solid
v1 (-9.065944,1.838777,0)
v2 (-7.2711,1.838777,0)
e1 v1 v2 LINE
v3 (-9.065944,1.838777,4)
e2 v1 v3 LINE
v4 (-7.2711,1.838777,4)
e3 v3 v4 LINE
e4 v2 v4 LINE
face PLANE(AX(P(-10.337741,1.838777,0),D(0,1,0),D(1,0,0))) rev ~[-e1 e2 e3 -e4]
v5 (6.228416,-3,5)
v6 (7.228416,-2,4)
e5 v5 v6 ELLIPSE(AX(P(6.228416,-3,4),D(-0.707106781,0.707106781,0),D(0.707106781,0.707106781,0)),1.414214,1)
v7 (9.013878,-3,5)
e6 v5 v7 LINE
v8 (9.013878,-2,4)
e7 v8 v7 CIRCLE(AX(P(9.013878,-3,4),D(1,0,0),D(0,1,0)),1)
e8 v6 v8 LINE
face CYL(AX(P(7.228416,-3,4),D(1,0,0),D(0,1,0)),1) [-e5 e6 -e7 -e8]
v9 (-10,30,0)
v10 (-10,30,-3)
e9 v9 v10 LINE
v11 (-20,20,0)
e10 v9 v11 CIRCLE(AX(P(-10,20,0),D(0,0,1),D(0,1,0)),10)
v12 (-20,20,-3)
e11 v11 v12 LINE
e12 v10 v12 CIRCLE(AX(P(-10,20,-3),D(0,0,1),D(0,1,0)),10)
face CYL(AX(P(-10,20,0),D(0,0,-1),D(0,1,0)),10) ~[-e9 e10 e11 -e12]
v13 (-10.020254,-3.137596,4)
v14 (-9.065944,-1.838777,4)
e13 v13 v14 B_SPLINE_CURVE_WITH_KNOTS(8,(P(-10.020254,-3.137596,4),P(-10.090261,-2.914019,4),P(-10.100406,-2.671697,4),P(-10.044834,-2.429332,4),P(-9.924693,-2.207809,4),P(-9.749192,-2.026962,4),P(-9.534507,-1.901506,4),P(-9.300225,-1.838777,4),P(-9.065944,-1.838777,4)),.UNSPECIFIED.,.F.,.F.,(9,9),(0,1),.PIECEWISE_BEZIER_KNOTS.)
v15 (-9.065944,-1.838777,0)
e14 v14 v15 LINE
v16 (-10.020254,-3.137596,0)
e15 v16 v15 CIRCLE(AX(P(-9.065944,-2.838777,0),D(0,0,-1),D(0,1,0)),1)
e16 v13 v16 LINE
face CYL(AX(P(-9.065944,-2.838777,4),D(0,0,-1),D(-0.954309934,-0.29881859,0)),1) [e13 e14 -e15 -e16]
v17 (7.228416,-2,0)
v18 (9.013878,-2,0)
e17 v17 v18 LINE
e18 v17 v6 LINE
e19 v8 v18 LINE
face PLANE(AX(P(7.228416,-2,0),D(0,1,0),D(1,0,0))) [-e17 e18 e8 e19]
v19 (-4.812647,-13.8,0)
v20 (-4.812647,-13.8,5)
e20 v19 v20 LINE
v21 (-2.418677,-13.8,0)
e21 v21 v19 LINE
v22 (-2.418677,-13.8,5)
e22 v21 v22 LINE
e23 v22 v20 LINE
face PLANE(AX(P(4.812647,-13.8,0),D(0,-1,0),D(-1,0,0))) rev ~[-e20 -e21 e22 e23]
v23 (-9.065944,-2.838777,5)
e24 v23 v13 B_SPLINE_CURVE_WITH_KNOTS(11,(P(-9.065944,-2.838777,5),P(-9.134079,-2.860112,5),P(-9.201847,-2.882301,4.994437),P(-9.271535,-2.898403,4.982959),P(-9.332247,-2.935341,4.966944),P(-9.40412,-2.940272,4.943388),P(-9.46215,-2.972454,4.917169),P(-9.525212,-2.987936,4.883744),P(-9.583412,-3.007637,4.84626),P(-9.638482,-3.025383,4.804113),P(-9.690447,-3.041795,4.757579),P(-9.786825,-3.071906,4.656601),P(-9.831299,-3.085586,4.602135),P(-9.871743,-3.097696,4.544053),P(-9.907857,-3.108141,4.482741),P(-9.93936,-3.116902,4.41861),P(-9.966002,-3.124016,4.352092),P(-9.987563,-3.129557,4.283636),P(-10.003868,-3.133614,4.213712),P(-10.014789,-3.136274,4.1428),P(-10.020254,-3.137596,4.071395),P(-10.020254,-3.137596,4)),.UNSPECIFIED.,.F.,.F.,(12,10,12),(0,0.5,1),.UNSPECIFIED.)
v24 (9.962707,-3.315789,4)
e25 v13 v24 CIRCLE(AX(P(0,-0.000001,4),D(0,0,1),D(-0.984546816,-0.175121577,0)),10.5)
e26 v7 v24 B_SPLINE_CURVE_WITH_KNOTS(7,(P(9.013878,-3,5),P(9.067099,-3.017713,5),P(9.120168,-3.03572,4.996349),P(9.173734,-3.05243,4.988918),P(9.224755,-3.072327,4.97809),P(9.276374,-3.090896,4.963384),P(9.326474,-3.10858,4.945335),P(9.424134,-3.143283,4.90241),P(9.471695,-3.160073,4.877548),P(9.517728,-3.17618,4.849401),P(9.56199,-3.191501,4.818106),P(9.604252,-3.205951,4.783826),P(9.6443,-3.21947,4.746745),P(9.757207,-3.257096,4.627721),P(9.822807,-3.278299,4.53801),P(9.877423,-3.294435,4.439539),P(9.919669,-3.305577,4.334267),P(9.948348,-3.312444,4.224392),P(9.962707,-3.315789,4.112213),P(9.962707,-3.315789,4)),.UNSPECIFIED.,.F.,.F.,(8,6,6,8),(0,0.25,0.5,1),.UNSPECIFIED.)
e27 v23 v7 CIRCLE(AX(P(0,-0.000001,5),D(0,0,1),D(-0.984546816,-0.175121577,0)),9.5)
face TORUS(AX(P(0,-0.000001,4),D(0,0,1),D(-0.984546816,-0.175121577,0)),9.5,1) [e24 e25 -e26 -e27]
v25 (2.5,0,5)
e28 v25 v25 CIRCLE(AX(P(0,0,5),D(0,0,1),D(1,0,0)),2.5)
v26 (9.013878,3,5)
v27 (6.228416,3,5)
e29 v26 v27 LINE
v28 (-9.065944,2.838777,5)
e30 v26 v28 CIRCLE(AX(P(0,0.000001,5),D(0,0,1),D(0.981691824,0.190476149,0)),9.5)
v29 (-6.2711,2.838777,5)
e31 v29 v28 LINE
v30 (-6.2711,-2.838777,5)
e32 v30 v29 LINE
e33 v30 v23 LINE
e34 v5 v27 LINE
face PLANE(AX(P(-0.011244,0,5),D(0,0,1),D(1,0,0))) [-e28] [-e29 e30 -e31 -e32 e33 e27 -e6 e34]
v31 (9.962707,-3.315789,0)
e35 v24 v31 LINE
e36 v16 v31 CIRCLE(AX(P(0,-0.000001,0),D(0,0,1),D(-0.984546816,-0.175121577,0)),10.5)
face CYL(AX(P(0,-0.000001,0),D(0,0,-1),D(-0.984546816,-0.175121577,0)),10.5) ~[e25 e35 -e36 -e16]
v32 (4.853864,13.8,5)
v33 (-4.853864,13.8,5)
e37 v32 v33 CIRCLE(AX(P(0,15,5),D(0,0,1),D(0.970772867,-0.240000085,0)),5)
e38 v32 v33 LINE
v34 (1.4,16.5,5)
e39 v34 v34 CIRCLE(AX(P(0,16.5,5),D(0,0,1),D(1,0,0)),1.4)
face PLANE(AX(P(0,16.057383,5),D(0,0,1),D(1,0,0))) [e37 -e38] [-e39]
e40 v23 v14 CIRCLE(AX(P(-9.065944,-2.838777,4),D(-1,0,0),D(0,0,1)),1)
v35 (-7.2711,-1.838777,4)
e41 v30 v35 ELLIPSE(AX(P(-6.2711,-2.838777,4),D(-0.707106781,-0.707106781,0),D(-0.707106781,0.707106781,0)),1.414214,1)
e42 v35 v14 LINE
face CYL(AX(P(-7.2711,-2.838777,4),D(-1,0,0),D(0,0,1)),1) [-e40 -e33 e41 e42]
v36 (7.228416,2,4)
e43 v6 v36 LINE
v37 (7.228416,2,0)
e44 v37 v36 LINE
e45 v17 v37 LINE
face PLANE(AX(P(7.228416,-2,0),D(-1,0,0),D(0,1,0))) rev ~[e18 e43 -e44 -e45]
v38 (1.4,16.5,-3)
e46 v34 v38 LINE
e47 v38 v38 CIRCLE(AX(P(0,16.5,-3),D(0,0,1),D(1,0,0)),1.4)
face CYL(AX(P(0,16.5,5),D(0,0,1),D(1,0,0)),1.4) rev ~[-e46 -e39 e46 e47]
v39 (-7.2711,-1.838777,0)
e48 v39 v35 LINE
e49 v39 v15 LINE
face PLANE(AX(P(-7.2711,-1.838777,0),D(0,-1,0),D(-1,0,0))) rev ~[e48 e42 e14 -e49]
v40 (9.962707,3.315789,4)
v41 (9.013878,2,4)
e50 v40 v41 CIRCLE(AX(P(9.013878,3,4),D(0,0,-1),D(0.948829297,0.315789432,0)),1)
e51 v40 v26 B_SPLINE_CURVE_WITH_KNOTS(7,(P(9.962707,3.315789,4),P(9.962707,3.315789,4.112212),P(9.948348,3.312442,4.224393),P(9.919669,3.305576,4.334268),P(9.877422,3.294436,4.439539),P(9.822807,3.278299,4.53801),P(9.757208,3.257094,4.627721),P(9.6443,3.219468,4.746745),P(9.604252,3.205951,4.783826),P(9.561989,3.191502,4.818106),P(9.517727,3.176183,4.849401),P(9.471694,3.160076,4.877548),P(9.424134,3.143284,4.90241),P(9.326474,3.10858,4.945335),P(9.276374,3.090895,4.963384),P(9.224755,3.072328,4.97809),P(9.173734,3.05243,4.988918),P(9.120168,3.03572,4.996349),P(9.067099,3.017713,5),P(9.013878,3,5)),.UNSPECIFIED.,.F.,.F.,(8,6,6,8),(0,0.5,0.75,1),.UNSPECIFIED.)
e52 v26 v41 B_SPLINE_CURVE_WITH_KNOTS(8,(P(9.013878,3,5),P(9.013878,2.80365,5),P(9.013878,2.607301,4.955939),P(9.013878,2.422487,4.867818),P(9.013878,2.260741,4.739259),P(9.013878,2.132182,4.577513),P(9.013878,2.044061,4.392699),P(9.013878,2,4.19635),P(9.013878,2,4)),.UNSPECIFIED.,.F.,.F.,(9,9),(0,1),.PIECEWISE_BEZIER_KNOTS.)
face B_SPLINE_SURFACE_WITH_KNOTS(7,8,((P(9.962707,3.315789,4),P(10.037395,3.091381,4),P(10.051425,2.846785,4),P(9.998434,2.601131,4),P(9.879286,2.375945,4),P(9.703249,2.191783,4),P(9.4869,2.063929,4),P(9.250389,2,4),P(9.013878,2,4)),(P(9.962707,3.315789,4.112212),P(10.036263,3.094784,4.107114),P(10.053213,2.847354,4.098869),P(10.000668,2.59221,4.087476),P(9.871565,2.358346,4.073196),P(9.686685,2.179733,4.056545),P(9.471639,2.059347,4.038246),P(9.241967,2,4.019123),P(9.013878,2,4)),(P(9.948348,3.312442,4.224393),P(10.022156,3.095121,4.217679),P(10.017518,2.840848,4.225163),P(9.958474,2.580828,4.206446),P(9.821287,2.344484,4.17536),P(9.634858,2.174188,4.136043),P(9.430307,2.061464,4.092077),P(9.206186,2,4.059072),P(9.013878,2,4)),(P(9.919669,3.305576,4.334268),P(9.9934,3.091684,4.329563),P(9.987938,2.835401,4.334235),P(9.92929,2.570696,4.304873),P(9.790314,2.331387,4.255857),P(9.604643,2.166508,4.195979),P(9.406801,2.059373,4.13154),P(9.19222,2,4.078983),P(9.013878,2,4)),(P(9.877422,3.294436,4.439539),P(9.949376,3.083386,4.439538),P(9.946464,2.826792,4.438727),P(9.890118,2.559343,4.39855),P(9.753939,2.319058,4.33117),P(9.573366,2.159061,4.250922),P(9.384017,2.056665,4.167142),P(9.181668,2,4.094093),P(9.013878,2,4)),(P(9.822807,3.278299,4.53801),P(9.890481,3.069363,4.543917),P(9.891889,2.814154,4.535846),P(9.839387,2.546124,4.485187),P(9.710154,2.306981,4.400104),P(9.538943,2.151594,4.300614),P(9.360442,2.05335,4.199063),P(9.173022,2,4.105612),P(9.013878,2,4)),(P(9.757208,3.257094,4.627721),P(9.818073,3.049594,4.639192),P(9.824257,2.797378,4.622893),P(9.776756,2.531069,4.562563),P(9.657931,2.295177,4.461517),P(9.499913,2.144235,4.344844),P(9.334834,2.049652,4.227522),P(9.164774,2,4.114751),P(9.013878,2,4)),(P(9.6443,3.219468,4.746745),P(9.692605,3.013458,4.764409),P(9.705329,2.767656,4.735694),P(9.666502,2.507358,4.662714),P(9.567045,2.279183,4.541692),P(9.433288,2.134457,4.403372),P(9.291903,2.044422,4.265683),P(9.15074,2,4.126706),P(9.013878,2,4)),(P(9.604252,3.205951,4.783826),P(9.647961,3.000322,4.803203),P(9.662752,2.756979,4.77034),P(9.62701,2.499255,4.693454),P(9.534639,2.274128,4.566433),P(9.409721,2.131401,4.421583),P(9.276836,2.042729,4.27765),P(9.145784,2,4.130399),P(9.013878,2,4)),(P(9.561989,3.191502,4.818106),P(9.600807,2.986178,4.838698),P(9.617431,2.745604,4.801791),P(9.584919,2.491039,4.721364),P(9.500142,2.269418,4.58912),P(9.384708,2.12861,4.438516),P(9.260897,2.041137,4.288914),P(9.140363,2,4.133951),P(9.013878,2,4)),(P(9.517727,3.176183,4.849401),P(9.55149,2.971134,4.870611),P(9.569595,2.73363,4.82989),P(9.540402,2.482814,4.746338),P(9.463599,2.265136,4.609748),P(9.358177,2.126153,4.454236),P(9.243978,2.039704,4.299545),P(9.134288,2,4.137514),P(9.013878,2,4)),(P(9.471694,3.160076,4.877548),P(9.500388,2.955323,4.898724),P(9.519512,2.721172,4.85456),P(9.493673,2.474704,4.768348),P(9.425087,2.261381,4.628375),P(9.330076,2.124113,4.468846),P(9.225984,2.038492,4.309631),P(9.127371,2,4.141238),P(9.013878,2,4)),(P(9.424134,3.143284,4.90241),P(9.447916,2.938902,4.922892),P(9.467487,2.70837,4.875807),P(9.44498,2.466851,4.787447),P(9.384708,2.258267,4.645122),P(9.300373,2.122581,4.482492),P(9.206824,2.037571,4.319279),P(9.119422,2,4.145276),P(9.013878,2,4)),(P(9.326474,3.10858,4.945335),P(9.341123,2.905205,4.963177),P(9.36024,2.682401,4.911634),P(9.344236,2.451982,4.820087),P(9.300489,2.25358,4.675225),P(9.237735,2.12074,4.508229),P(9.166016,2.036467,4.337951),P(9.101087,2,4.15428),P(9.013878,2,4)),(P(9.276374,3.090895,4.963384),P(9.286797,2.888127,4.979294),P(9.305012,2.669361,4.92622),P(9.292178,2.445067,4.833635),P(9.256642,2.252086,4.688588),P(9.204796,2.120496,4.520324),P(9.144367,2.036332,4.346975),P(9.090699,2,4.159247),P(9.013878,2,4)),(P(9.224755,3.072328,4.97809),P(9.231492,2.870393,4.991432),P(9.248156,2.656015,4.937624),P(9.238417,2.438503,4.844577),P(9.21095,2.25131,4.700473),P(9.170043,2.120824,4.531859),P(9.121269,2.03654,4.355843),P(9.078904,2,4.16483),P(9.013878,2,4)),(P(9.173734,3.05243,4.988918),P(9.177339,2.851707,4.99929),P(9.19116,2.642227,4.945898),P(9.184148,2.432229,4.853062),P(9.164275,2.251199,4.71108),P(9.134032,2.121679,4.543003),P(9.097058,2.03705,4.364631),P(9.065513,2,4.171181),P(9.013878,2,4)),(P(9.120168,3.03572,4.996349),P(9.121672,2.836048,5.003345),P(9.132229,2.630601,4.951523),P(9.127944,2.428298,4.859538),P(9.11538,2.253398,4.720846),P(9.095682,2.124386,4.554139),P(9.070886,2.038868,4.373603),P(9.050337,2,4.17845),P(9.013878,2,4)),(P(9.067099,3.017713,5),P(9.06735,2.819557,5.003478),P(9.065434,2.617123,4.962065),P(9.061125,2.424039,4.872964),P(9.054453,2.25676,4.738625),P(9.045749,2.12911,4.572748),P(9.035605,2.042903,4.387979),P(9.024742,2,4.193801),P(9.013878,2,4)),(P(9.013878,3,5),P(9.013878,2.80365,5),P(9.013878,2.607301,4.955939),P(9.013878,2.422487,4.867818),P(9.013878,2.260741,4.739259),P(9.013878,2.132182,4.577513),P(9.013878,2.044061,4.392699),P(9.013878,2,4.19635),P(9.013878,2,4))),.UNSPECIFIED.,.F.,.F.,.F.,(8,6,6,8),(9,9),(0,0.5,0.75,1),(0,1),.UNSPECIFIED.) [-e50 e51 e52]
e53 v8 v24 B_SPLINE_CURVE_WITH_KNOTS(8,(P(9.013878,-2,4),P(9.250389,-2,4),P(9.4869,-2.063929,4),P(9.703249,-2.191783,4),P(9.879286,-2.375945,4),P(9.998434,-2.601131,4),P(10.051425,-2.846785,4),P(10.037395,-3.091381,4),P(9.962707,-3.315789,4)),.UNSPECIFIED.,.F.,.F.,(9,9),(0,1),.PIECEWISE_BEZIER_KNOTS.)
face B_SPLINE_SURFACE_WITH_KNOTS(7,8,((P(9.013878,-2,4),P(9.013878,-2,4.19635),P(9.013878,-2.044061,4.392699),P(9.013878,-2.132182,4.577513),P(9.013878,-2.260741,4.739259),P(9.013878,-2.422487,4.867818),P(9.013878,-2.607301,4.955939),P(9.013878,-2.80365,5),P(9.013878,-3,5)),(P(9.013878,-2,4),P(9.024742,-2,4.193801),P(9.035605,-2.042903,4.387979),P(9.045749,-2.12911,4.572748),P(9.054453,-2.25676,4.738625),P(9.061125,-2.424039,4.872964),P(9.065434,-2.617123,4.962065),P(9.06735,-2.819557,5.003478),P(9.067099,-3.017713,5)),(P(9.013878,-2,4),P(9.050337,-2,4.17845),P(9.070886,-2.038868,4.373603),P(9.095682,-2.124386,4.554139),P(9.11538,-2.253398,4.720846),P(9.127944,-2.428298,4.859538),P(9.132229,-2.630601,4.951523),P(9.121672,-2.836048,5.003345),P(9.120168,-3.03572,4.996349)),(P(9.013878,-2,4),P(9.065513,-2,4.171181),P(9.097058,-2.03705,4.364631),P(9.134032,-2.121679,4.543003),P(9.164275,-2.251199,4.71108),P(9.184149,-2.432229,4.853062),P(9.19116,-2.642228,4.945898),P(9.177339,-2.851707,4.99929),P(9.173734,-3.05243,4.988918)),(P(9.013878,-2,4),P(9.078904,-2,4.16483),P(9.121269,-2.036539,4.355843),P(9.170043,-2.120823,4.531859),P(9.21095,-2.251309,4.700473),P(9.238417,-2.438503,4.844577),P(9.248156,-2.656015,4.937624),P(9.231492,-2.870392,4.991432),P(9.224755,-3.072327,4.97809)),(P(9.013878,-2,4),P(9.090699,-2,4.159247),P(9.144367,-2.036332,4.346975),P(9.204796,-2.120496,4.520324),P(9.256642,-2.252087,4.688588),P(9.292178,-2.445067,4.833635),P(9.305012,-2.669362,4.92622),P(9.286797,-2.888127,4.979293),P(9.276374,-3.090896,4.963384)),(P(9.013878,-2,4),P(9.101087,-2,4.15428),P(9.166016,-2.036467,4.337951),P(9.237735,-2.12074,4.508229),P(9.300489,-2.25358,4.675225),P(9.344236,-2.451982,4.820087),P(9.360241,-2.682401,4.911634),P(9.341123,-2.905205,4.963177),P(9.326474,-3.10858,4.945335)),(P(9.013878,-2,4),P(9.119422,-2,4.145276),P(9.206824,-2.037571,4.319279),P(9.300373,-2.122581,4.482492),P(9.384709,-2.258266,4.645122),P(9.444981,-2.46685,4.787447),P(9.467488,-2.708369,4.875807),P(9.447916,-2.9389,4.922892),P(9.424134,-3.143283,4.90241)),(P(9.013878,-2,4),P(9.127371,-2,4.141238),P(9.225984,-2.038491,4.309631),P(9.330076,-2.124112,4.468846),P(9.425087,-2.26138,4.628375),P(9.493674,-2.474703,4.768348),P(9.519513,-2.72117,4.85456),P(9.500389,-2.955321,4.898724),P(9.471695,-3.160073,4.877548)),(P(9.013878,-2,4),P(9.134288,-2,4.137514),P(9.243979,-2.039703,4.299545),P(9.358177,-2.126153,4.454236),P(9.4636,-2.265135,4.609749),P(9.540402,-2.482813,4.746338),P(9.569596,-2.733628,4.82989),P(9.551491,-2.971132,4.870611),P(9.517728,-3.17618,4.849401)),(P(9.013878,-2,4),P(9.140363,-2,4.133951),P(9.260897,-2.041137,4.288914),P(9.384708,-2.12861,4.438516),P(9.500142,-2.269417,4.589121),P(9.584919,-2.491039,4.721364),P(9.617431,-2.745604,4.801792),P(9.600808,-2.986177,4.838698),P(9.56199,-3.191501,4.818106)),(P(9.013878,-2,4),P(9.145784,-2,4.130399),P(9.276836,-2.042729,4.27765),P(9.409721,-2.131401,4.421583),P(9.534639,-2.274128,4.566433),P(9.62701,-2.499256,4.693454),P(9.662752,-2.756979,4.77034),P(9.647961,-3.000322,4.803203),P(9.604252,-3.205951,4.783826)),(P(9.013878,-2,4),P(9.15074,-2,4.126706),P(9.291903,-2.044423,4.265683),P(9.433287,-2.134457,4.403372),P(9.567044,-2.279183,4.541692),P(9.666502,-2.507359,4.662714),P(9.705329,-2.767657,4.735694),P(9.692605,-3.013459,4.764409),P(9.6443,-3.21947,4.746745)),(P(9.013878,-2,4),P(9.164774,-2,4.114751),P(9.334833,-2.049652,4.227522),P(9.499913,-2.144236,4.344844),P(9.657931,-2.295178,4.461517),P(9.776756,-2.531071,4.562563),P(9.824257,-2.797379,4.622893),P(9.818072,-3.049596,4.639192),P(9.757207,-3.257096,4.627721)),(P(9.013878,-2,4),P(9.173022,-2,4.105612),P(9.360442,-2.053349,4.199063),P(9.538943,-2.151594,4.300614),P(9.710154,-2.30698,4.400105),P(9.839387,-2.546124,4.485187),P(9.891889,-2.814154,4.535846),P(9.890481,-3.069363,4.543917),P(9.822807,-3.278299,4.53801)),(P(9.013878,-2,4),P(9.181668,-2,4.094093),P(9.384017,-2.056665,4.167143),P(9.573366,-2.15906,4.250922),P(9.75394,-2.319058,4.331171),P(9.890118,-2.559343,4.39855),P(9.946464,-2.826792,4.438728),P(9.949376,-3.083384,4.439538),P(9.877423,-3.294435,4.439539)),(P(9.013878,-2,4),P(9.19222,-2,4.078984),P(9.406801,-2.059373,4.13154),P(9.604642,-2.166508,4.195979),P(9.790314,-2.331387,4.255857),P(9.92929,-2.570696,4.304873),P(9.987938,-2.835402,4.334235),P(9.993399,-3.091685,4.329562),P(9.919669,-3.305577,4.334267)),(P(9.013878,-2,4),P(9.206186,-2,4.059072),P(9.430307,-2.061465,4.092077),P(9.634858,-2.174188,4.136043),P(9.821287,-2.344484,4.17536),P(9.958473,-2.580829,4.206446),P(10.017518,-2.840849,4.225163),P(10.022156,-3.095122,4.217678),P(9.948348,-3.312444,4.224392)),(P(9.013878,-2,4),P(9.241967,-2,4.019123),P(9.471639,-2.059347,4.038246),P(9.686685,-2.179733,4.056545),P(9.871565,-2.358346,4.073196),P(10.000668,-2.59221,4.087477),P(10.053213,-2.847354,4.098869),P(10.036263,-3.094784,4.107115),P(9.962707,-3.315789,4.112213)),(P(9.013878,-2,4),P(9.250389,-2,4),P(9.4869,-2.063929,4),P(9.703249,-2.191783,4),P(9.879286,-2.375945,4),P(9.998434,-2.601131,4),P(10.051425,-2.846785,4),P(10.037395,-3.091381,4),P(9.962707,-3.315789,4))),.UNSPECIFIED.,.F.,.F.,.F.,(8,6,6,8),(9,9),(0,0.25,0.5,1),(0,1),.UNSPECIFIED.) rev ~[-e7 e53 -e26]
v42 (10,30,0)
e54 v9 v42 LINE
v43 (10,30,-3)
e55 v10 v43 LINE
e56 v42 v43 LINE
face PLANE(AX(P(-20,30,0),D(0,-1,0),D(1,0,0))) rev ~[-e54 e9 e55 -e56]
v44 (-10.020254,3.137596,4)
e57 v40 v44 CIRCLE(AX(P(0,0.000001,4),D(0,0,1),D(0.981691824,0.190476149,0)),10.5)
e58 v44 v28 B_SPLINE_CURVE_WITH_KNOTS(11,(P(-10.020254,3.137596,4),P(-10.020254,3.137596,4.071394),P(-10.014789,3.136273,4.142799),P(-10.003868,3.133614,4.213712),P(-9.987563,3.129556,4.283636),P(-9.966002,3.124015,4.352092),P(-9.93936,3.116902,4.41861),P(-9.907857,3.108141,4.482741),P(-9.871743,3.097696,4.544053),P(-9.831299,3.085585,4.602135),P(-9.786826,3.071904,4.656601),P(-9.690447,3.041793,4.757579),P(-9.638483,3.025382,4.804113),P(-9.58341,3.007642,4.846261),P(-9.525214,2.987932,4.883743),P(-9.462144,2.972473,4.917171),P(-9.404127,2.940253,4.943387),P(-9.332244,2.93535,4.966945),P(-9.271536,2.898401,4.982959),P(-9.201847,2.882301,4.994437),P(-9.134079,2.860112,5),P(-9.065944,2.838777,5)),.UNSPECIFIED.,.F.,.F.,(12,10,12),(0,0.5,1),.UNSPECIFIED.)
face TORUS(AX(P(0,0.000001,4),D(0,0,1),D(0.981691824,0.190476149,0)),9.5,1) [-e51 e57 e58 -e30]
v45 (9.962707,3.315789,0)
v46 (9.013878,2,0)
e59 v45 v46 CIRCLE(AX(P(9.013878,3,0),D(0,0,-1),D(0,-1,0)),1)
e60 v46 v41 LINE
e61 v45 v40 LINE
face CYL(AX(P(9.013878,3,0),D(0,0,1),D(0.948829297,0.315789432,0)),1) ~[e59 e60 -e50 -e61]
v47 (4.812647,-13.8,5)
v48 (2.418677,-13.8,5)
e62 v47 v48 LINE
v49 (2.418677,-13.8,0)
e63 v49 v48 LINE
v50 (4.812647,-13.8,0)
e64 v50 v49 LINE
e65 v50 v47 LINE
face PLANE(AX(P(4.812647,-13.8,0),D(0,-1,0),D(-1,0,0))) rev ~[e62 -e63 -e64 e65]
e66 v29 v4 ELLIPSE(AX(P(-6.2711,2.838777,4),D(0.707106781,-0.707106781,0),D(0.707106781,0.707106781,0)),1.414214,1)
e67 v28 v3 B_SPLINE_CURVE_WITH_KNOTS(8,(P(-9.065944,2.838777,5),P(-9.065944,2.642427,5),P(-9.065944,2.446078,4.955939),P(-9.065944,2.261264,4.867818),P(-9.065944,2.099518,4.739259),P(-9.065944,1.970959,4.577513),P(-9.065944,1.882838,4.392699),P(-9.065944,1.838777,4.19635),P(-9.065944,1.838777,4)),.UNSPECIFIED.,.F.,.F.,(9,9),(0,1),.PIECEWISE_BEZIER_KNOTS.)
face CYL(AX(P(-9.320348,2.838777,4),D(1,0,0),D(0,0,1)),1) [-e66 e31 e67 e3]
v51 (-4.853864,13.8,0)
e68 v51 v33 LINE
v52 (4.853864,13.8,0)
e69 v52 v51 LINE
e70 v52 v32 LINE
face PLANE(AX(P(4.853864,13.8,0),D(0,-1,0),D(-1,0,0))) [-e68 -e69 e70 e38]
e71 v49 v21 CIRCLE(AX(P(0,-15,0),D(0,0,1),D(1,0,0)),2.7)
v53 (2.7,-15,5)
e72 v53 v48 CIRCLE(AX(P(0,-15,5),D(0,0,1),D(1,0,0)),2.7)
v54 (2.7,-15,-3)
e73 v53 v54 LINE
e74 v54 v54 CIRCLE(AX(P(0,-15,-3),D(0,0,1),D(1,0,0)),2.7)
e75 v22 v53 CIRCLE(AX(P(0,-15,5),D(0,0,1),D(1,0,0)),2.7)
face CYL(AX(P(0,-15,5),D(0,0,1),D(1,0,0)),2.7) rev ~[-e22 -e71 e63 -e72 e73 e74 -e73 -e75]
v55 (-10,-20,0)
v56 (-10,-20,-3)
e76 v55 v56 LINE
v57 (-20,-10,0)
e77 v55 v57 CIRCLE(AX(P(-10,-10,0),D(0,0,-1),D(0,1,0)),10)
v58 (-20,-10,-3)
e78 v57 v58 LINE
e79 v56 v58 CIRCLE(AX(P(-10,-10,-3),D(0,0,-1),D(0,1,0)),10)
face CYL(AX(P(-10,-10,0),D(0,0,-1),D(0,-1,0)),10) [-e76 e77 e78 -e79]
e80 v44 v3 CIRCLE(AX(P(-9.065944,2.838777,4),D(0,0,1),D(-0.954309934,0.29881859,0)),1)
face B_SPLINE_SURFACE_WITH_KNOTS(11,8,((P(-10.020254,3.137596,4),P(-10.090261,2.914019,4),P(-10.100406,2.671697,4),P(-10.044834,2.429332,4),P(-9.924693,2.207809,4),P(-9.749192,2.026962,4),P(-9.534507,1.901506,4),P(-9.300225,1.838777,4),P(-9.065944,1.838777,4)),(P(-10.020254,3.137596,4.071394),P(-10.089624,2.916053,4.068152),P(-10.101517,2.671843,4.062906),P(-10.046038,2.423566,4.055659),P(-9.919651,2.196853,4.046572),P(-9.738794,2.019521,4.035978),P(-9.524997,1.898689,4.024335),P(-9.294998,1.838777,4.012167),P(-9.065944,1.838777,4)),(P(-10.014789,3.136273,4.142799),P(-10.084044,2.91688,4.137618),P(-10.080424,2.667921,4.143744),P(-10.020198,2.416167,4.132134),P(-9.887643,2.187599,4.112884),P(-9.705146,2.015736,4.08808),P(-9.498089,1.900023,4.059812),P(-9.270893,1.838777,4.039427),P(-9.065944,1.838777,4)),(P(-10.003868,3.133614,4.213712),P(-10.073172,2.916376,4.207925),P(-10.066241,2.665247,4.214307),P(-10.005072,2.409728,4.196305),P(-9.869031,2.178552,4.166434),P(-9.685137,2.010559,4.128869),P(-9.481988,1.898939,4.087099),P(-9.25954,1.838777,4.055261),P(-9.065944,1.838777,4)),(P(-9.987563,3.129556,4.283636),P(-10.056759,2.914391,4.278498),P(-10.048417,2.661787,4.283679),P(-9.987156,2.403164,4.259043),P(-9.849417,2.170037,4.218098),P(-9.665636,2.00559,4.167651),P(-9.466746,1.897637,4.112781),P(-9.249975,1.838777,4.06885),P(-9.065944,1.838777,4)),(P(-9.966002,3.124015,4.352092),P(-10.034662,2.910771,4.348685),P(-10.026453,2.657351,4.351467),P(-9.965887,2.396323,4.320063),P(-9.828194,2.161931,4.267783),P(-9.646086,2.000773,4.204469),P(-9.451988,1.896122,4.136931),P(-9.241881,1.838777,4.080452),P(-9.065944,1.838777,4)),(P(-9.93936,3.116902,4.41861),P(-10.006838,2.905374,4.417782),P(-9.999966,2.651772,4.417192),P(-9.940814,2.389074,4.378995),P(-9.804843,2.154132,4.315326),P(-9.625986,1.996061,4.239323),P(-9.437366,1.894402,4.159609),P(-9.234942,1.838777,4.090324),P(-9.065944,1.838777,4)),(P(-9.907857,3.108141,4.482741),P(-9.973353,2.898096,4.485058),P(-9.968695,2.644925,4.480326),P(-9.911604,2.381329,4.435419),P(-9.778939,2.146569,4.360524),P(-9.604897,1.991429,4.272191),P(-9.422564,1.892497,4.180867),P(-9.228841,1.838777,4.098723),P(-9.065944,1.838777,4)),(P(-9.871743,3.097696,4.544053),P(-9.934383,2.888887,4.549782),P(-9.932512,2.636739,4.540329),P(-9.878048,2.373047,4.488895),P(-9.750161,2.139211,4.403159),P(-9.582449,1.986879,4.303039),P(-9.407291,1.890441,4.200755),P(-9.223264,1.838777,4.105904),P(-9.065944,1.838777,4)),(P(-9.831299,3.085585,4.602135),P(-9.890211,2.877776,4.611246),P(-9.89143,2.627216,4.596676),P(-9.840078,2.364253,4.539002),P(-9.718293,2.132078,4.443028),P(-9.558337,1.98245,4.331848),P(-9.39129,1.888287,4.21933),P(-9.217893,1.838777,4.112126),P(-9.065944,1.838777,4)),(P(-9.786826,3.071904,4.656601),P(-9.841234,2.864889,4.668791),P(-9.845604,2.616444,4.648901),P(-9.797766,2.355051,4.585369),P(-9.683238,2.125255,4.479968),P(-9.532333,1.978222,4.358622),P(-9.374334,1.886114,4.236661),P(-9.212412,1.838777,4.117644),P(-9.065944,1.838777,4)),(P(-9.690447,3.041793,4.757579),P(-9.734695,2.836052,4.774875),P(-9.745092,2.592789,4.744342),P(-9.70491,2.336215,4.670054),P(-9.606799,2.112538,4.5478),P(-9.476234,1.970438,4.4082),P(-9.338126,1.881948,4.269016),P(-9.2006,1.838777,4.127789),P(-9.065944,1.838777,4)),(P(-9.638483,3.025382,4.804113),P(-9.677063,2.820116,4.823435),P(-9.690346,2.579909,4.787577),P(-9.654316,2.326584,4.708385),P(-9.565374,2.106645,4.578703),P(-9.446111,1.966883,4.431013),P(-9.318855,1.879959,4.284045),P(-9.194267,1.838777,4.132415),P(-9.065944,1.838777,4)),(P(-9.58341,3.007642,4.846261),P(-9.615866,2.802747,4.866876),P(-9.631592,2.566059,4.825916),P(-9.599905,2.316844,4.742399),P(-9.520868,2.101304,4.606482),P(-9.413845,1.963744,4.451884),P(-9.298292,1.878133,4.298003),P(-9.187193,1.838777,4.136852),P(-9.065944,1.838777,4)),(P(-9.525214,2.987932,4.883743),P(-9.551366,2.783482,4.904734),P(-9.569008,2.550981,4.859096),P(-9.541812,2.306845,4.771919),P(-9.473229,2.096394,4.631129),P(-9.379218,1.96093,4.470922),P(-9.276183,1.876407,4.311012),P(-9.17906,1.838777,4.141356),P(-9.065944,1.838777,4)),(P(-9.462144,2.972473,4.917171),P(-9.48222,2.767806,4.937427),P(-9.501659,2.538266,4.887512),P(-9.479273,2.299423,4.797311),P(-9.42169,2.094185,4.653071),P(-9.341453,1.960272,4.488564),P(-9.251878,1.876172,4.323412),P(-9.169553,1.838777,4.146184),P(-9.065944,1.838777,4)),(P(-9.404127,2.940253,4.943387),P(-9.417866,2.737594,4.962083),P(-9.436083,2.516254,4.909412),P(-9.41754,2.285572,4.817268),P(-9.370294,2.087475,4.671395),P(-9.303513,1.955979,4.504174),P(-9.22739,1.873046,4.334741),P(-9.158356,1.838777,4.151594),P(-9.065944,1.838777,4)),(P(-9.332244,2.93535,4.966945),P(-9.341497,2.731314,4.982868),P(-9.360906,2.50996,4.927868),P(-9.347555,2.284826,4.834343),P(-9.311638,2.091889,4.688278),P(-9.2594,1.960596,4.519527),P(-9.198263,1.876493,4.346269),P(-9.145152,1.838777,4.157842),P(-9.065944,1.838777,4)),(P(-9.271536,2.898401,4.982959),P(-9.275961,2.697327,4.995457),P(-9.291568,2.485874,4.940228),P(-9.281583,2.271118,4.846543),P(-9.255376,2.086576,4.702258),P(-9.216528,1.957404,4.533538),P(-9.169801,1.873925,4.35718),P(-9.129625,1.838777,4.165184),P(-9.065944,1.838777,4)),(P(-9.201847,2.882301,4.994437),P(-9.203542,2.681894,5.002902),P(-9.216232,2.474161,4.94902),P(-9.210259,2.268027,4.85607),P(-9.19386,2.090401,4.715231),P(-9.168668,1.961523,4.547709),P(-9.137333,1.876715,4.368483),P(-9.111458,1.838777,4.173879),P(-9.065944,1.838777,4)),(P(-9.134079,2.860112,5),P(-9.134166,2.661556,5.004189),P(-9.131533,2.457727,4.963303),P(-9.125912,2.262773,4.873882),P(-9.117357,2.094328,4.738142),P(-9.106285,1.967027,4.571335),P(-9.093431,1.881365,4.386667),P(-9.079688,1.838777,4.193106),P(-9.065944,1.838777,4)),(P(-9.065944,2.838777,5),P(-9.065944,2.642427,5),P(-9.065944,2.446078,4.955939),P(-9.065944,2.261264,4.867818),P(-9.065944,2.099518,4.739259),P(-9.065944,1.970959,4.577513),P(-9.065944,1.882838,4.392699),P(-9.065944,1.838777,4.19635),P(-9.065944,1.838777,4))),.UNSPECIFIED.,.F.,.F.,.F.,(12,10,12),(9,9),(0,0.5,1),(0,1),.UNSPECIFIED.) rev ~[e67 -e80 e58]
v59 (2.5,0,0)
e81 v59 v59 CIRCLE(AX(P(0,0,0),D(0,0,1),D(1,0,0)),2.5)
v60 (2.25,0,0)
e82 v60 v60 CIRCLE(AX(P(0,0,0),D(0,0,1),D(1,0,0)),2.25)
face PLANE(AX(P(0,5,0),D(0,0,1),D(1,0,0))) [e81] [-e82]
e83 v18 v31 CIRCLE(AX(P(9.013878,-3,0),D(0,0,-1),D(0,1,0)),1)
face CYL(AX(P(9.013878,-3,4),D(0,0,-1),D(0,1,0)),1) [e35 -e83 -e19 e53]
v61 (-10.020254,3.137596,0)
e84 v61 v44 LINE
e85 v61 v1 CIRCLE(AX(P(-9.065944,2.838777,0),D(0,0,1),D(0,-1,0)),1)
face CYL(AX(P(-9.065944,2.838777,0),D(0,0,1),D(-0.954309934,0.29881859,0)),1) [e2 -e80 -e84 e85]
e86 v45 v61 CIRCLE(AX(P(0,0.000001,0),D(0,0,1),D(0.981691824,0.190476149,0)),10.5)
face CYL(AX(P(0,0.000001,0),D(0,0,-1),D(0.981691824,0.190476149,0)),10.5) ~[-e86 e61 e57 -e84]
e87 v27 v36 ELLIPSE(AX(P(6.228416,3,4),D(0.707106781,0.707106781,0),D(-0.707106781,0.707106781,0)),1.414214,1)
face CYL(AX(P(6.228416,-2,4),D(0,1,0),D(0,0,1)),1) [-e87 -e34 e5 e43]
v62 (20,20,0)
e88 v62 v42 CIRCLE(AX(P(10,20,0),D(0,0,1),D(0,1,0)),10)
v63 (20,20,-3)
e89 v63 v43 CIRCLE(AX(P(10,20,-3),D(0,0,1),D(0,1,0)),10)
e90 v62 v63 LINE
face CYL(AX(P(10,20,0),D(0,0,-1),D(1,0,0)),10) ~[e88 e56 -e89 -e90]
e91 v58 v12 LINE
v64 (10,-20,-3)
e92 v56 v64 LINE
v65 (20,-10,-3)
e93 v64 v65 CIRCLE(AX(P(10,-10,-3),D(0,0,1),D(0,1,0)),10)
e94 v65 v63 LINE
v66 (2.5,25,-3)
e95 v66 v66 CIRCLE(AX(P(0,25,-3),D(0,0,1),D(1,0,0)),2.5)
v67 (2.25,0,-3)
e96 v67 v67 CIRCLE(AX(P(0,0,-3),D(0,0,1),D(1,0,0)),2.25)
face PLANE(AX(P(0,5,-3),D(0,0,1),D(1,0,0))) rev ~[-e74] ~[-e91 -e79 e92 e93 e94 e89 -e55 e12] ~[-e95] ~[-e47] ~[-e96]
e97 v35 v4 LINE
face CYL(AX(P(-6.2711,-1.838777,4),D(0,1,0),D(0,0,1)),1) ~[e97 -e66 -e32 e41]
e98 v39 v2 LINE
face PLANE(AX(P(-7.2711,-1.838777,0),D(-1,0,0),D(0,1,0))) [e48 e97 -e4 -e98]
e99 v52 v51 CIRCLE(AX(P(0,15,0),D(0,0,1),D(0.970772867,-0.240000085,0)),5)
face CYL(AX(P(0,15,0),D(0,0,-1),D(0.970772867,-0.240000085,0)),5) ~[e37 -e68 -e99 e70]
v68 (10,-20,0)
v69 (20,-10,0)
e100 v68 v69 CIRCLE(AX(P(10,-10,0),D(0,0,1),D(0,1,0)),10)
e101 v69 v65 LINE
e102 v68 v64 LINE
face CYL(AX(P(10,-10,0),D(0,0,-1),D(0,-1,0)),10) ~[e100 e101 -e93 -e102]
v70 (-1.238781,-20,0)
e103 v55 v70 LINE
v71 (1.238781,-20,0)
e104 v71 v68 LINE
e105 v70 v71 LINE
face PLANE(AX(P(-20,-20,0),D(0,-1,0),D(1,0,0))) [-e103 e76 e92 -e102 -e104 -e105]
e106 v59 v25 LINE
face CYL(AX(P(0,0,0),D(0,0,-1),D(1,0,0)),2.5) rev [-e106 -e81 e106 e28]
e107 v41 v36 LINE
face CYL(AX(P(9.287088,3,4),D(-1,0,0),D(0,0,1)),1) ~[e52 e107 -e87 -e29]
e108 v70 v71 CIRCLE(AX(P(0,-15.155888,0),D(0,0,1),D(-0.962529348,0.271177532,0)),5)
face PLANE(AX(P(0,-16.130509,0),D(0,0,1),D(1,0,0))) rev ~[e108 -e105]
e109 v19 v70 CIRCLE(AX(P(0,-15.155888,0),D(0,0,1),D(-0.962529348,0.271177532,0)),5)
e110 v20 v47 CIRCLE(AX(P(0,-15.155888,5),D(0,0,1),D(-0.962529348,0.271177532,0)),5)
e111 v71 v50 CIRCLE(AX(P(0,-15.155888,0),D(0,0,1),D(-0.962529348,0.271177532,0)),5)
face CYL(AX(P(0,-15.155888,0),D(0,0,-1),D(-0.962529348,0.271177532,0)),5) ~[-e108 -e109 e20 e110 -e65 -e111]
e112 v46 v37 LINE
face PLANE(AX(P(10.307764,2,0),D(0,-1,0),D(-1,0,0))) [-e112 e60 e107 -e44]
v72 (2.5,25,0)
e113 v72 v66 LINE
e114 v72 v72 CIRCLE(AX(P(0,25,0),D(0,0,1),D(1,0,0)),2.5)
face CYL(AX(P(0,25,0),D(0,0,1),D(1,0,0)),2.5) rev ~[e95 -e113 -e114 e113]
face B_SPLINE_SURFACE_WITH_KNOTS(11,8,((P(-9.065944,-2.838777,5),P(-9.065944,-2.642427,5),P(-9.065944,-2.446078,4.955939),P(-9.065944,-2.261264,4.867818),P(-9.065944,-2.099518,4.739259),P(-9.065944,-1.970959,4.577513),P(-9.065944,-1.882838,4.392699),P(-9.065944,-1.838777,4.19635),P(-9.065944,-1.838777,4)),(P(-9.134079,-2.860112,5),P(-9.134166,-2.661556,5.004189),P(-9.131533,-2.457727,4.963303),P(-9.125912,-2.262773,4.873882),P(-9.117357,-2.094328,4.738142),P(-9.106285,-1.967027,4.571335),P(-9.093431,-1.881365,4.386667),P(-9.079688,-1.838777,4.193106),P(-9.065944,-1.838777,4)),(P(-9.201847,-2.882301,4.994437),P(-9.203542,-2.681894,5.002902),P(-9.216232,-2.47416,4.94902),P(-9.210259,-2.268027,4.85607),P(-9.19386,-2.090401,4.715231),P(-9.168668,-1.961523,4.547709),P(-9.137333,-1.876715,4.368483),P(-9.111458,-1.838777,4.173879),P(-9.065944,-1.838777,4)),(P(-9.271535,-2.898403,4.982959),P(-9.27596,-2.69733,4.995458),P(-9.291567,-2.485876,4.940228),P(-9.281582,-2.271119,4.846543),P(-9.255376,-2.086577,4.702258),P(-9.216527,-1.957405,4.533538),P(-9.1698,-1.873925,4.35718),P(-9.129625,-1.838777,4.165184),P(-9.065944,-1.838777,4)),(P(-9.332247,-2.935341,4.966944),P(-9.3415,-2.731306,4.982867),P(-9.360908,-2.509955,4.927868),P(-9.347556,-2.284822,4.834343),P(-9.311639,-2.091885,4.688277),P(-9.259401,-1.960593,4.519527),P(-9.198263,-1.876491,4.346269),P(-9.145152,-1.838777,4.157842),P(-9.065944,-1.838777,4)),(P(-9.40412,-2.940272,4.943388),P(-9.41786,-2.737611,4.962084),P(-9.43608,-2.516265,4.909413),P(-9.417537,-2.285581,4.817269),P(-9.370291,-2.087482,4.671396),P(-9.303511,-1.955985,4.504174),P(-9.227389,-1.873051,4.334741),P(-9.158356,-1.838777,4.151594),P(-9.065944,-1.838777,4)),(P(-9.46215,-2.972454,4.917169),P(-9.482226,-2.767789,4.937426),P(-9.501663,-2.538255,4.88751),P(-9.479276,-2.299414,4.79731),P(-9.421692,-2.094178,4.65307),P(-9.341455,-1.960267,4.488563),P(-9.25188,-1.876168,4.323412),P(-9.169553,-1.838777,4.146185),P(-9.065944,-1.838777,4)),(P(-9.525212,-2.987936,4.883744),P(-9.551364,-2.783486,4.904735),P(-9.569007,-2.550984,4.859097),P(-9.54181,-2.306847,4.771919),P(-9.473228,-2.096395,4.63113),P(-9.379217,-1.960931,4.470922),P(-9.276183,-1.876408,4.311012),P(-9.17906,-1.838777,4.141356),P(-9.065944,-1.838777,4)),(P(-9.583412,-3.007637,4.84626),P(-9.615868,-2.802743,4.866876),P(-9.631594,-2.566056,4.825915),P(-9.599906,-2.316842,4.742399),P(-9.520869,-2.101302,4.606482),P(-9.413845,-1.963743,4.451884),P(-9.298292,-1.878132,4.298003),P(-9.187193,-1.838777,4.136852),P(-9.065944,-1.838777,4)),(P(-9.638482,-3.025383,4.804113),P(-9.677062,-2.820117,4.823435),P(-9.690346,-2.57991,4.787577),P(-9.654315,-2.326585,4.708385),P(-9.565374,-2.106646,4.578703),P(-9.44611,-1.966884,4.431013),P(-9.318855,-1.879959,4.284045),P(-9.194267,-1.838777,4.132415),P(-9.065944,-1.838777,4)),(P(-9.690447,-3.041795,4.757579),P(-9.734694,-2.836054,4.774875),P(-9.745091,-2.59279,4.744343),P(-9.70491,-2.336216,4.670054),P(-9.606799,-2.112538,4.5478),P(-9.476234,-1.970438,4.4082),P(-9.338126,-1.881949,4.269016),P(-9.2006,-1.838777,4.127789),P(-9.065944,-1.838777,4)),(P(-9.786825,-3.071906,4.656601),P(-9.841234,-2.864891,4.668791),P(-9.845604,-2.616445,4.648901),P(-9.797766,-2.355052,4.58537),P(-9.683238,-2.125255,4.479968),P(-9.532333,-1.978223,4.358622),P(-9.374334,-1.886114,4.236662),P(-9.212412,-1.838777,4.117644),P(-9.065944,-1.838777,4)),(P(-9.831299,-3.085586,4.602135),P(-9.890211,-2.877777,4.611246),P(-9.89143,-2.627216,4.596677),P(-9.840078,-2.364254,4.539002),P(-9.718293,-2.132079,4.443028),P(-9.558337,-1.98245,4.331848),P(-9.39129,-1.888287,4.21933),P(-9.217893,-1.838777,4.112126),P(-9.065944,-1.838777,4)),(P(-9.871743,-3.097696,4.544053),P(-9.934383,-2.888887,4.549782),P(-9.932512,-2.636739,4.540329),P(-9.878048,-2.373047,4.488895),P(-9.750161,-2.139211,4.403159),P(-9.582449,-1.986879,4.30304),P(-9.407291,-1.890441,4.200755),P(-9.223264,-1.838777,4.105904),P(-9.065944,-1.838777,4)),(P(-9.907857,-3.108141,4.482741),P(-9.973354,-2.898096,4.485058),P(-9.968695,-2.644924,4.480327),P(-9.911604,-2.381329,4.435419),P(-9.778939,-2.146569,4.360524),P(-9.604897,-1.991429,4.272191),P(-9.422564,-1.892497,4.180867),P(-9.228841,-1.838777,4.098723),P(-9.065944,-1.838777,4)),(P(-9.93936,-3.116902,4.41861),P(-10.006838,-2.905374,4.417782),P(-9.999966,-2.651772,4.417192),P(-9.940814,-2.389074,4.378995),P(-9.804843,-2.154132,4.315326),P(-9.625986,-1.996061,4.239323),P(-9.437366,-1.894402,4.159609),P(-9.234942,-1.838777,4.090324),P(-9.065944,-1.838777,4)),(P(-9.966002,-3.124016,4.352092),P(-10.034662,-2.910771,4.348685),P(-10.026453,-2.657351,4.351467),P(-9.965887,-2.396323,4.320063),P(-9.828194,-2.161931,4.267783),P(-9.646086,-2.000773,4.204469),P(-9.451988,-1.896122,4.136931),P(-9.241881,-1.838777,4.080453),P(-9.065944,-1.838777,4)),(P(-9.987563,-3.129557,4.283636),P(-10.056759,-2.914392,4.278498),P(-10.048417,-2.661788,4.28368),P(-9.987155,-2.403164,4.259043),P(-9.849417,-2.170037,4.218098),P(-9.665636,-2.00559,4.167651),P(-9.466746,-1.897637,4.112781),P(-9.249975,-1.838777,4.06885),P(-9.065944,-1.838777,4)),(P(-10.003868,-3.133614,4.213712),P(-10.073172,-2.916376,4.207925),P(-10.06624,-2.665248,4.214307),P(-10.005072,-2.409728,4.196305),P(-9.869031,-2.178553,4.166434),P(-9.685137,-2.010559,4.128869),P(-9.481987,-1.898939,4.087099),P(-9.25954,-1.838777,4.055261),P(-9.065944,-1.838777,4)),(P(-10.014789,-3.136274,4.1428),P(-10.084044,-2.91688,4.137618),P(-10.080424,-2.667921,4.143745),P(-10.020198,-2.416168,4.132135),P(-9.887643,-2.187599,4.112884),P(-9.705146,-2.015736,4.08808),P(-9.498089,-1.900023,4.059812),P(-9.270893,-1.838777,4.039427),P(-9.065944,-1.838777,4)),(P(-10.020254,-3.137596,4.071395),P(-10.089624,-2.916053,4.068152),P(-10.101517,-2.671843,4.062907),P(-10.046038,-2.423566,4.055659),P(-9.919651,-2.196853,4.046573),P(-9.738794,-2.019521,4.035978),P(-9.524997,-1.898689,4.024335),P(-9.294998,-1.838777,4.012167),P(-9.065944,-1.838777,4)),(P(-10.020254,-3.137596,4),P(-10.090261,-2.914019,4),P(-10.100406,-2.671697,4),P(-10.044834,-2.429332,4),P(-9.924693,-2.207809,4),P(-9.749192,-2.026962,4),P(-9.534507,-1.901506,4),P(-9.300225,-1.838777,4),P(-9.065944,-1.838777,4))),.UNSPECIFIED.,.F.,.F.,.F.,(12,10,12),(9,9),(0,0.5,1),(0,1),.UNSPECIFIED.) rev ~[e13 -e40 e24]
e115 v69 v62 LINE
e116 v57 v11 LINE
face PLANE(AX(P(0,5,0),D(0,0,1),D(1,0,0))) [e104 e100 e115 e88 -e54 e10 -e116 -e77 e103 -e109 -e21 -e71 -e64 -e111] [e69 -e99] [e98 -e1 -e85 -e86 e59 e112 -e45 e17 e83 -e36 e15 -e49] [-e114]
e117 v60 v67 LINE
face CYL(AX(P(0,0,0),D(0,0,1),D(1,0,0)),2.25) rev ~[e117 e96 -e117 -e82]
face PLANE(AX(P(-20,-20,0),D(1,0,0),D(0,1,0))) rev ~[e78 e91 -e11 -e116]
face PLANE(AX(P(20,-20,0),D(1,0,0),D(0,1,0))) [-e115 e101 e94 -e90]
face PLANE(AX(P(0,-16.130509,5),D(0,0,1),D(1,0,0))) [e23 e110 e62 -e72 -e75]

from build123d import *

# Parameters (mm, degrees)
SKETCH001_W   = 40
SKETCH001_H   = 50
SKETCH001_R   = 2.25
SKETCH001_R_2 = 2.5
PAD001_DEPTH  = 3
SKETCH_R      = 2.5
PAD_DEPTH     = 5
PAD002_DEPTH  = 5
SKETCH003_R   = 1.4
SKETCH003_R_2 = 2.7
POCKET_DEPTH  = 8.001
FILLET_R      = 1
FILLET001_R   = 1
FILLET002_R   = 1
FILLET003_R   = 1
FILLET004_R   = 10


with BuildPart() as part:
    # Sketch001 → Pad001 (new body)
    with BuildSketch(Plane.XY):
        with Locations((0, 5)):
            Rectangle(SKETCH001_W, SKETCH001_H)
        Circle(SKETCH001_R, mode=Mode.SUBTRACT)
        with Locations((0, 25)):
            Circle(SKETCH001_R_2, mode=Mode.SUBTRACT)
        with Locations((0, -15)):
            Circle(SKETCH001_R_2, mode=Mode.SUBTRACT)
    extrude(amount=-PAD001_DEPTH)

    # Sketch → Pad (join)
    with BuildSketch(Plane.XY):
        with BuildLine():
            ThreePointArc((-10.337741, -1.838777), (-0.081993, -10.49968), (10.307764, -2))
            Line((7.228416, -2), (10.307764, -2))
            Line((7.228416, -2), (7.228416, 2))
            Line((10.307764, 2), (7.228416, 2))
            ThreePointArc((10.307764, 2), (-0.081993, 10.49968), (-10.337741, 1.838777))
            Line((-10.337741, 1.838777), (-7.2711, 1.838777))
            Line((-7.2711, -1.838777), (-7.2711, 1.838777))
            Line((-7.2711, -1.838777), (-10.337741, -1.838777))
        make_face()
        Circle(SKETCH_R, mode=Mode.SUBTRACT)
    extrude(amount=PAD_DEPTH)

    # Sketch002 → Pad002 (join)
    with BuildSketch(Plane.XY):
        with BuildLine():
            ThreePointArc((-4.812647, -13.8), (0, -20.155888), (4.812647, -13.8))
            Line((4.812647, -13.8), (-4.812647, -13.8))
        make_face()
        with BuildLine():
            ThreePointArc((4.853864, 13.8), (0, 20), (-4.853864, 13.8))
            Line((4.853864, 13.8), (-4.853864, 13.8))
        make_face()
    extrude(amount=PAD002_DEPTH)

    # Sketch003 (on Face23 of Pad002) → Pocket (cut, through all)
    with BuildSketch(Plane.XY.offset(5)):
        with Locations((0, 16.5)):
            Circle(SKETCH003_R)
        with Locations((0, -15)):
            Circle(SKETCH003_R_2)
    extrude(amount=-POCKET_DEPTH, mode=Mode.SUBTRACT)

    # Fillet
    fillet_edges = [part.edges().sort_by_distance(p)[0] for p in [
        (-0.081993, -10.49968, 5),
        (-0.081993, 10.49968, 5),
    ]]
    fillet(fillet_edges, radius=FILLET_R)

    # Fillet001
    fillet001_edges = [part.edges().sort_by_distance(p)[0] for p in [
        (8.257752, 2, 5),
        (7.228416, 0, 5),
        (8.257752, -2, 5),
    ]]
    fillet(fillet001_edges, radius=FILLET001_R)

    # Fillet002
    fillet002_edges = [part.edges().sort_by_distance(p)[0] for p in [
        (-8.295724, 1.838777, 5),
    ]]
    fillet(fillet002_edges, radius=FILLET002_R)

    # Fillet003
    fillet003_edges = [part.edges().sort_by_distance(p)[0] for p in [
        (-7.2711, 0, 5),
        (-8.295724, -1.838777, 5),
    ]]
    fillet(fillet003_edges, radius=FILLET003_R)

    # Fillet004
    fillet004_edges = [part.edges().sort_by_distance(p)[0] for p in [
        (20, -20, -1.5),
        (-20, -20, -1.5),
        (20, 30, -1.5),
        (-20, 30, -1.5),
    ]]
    fillet(fillet004_edges, radius=FILLET004_R)


solid = part.part
